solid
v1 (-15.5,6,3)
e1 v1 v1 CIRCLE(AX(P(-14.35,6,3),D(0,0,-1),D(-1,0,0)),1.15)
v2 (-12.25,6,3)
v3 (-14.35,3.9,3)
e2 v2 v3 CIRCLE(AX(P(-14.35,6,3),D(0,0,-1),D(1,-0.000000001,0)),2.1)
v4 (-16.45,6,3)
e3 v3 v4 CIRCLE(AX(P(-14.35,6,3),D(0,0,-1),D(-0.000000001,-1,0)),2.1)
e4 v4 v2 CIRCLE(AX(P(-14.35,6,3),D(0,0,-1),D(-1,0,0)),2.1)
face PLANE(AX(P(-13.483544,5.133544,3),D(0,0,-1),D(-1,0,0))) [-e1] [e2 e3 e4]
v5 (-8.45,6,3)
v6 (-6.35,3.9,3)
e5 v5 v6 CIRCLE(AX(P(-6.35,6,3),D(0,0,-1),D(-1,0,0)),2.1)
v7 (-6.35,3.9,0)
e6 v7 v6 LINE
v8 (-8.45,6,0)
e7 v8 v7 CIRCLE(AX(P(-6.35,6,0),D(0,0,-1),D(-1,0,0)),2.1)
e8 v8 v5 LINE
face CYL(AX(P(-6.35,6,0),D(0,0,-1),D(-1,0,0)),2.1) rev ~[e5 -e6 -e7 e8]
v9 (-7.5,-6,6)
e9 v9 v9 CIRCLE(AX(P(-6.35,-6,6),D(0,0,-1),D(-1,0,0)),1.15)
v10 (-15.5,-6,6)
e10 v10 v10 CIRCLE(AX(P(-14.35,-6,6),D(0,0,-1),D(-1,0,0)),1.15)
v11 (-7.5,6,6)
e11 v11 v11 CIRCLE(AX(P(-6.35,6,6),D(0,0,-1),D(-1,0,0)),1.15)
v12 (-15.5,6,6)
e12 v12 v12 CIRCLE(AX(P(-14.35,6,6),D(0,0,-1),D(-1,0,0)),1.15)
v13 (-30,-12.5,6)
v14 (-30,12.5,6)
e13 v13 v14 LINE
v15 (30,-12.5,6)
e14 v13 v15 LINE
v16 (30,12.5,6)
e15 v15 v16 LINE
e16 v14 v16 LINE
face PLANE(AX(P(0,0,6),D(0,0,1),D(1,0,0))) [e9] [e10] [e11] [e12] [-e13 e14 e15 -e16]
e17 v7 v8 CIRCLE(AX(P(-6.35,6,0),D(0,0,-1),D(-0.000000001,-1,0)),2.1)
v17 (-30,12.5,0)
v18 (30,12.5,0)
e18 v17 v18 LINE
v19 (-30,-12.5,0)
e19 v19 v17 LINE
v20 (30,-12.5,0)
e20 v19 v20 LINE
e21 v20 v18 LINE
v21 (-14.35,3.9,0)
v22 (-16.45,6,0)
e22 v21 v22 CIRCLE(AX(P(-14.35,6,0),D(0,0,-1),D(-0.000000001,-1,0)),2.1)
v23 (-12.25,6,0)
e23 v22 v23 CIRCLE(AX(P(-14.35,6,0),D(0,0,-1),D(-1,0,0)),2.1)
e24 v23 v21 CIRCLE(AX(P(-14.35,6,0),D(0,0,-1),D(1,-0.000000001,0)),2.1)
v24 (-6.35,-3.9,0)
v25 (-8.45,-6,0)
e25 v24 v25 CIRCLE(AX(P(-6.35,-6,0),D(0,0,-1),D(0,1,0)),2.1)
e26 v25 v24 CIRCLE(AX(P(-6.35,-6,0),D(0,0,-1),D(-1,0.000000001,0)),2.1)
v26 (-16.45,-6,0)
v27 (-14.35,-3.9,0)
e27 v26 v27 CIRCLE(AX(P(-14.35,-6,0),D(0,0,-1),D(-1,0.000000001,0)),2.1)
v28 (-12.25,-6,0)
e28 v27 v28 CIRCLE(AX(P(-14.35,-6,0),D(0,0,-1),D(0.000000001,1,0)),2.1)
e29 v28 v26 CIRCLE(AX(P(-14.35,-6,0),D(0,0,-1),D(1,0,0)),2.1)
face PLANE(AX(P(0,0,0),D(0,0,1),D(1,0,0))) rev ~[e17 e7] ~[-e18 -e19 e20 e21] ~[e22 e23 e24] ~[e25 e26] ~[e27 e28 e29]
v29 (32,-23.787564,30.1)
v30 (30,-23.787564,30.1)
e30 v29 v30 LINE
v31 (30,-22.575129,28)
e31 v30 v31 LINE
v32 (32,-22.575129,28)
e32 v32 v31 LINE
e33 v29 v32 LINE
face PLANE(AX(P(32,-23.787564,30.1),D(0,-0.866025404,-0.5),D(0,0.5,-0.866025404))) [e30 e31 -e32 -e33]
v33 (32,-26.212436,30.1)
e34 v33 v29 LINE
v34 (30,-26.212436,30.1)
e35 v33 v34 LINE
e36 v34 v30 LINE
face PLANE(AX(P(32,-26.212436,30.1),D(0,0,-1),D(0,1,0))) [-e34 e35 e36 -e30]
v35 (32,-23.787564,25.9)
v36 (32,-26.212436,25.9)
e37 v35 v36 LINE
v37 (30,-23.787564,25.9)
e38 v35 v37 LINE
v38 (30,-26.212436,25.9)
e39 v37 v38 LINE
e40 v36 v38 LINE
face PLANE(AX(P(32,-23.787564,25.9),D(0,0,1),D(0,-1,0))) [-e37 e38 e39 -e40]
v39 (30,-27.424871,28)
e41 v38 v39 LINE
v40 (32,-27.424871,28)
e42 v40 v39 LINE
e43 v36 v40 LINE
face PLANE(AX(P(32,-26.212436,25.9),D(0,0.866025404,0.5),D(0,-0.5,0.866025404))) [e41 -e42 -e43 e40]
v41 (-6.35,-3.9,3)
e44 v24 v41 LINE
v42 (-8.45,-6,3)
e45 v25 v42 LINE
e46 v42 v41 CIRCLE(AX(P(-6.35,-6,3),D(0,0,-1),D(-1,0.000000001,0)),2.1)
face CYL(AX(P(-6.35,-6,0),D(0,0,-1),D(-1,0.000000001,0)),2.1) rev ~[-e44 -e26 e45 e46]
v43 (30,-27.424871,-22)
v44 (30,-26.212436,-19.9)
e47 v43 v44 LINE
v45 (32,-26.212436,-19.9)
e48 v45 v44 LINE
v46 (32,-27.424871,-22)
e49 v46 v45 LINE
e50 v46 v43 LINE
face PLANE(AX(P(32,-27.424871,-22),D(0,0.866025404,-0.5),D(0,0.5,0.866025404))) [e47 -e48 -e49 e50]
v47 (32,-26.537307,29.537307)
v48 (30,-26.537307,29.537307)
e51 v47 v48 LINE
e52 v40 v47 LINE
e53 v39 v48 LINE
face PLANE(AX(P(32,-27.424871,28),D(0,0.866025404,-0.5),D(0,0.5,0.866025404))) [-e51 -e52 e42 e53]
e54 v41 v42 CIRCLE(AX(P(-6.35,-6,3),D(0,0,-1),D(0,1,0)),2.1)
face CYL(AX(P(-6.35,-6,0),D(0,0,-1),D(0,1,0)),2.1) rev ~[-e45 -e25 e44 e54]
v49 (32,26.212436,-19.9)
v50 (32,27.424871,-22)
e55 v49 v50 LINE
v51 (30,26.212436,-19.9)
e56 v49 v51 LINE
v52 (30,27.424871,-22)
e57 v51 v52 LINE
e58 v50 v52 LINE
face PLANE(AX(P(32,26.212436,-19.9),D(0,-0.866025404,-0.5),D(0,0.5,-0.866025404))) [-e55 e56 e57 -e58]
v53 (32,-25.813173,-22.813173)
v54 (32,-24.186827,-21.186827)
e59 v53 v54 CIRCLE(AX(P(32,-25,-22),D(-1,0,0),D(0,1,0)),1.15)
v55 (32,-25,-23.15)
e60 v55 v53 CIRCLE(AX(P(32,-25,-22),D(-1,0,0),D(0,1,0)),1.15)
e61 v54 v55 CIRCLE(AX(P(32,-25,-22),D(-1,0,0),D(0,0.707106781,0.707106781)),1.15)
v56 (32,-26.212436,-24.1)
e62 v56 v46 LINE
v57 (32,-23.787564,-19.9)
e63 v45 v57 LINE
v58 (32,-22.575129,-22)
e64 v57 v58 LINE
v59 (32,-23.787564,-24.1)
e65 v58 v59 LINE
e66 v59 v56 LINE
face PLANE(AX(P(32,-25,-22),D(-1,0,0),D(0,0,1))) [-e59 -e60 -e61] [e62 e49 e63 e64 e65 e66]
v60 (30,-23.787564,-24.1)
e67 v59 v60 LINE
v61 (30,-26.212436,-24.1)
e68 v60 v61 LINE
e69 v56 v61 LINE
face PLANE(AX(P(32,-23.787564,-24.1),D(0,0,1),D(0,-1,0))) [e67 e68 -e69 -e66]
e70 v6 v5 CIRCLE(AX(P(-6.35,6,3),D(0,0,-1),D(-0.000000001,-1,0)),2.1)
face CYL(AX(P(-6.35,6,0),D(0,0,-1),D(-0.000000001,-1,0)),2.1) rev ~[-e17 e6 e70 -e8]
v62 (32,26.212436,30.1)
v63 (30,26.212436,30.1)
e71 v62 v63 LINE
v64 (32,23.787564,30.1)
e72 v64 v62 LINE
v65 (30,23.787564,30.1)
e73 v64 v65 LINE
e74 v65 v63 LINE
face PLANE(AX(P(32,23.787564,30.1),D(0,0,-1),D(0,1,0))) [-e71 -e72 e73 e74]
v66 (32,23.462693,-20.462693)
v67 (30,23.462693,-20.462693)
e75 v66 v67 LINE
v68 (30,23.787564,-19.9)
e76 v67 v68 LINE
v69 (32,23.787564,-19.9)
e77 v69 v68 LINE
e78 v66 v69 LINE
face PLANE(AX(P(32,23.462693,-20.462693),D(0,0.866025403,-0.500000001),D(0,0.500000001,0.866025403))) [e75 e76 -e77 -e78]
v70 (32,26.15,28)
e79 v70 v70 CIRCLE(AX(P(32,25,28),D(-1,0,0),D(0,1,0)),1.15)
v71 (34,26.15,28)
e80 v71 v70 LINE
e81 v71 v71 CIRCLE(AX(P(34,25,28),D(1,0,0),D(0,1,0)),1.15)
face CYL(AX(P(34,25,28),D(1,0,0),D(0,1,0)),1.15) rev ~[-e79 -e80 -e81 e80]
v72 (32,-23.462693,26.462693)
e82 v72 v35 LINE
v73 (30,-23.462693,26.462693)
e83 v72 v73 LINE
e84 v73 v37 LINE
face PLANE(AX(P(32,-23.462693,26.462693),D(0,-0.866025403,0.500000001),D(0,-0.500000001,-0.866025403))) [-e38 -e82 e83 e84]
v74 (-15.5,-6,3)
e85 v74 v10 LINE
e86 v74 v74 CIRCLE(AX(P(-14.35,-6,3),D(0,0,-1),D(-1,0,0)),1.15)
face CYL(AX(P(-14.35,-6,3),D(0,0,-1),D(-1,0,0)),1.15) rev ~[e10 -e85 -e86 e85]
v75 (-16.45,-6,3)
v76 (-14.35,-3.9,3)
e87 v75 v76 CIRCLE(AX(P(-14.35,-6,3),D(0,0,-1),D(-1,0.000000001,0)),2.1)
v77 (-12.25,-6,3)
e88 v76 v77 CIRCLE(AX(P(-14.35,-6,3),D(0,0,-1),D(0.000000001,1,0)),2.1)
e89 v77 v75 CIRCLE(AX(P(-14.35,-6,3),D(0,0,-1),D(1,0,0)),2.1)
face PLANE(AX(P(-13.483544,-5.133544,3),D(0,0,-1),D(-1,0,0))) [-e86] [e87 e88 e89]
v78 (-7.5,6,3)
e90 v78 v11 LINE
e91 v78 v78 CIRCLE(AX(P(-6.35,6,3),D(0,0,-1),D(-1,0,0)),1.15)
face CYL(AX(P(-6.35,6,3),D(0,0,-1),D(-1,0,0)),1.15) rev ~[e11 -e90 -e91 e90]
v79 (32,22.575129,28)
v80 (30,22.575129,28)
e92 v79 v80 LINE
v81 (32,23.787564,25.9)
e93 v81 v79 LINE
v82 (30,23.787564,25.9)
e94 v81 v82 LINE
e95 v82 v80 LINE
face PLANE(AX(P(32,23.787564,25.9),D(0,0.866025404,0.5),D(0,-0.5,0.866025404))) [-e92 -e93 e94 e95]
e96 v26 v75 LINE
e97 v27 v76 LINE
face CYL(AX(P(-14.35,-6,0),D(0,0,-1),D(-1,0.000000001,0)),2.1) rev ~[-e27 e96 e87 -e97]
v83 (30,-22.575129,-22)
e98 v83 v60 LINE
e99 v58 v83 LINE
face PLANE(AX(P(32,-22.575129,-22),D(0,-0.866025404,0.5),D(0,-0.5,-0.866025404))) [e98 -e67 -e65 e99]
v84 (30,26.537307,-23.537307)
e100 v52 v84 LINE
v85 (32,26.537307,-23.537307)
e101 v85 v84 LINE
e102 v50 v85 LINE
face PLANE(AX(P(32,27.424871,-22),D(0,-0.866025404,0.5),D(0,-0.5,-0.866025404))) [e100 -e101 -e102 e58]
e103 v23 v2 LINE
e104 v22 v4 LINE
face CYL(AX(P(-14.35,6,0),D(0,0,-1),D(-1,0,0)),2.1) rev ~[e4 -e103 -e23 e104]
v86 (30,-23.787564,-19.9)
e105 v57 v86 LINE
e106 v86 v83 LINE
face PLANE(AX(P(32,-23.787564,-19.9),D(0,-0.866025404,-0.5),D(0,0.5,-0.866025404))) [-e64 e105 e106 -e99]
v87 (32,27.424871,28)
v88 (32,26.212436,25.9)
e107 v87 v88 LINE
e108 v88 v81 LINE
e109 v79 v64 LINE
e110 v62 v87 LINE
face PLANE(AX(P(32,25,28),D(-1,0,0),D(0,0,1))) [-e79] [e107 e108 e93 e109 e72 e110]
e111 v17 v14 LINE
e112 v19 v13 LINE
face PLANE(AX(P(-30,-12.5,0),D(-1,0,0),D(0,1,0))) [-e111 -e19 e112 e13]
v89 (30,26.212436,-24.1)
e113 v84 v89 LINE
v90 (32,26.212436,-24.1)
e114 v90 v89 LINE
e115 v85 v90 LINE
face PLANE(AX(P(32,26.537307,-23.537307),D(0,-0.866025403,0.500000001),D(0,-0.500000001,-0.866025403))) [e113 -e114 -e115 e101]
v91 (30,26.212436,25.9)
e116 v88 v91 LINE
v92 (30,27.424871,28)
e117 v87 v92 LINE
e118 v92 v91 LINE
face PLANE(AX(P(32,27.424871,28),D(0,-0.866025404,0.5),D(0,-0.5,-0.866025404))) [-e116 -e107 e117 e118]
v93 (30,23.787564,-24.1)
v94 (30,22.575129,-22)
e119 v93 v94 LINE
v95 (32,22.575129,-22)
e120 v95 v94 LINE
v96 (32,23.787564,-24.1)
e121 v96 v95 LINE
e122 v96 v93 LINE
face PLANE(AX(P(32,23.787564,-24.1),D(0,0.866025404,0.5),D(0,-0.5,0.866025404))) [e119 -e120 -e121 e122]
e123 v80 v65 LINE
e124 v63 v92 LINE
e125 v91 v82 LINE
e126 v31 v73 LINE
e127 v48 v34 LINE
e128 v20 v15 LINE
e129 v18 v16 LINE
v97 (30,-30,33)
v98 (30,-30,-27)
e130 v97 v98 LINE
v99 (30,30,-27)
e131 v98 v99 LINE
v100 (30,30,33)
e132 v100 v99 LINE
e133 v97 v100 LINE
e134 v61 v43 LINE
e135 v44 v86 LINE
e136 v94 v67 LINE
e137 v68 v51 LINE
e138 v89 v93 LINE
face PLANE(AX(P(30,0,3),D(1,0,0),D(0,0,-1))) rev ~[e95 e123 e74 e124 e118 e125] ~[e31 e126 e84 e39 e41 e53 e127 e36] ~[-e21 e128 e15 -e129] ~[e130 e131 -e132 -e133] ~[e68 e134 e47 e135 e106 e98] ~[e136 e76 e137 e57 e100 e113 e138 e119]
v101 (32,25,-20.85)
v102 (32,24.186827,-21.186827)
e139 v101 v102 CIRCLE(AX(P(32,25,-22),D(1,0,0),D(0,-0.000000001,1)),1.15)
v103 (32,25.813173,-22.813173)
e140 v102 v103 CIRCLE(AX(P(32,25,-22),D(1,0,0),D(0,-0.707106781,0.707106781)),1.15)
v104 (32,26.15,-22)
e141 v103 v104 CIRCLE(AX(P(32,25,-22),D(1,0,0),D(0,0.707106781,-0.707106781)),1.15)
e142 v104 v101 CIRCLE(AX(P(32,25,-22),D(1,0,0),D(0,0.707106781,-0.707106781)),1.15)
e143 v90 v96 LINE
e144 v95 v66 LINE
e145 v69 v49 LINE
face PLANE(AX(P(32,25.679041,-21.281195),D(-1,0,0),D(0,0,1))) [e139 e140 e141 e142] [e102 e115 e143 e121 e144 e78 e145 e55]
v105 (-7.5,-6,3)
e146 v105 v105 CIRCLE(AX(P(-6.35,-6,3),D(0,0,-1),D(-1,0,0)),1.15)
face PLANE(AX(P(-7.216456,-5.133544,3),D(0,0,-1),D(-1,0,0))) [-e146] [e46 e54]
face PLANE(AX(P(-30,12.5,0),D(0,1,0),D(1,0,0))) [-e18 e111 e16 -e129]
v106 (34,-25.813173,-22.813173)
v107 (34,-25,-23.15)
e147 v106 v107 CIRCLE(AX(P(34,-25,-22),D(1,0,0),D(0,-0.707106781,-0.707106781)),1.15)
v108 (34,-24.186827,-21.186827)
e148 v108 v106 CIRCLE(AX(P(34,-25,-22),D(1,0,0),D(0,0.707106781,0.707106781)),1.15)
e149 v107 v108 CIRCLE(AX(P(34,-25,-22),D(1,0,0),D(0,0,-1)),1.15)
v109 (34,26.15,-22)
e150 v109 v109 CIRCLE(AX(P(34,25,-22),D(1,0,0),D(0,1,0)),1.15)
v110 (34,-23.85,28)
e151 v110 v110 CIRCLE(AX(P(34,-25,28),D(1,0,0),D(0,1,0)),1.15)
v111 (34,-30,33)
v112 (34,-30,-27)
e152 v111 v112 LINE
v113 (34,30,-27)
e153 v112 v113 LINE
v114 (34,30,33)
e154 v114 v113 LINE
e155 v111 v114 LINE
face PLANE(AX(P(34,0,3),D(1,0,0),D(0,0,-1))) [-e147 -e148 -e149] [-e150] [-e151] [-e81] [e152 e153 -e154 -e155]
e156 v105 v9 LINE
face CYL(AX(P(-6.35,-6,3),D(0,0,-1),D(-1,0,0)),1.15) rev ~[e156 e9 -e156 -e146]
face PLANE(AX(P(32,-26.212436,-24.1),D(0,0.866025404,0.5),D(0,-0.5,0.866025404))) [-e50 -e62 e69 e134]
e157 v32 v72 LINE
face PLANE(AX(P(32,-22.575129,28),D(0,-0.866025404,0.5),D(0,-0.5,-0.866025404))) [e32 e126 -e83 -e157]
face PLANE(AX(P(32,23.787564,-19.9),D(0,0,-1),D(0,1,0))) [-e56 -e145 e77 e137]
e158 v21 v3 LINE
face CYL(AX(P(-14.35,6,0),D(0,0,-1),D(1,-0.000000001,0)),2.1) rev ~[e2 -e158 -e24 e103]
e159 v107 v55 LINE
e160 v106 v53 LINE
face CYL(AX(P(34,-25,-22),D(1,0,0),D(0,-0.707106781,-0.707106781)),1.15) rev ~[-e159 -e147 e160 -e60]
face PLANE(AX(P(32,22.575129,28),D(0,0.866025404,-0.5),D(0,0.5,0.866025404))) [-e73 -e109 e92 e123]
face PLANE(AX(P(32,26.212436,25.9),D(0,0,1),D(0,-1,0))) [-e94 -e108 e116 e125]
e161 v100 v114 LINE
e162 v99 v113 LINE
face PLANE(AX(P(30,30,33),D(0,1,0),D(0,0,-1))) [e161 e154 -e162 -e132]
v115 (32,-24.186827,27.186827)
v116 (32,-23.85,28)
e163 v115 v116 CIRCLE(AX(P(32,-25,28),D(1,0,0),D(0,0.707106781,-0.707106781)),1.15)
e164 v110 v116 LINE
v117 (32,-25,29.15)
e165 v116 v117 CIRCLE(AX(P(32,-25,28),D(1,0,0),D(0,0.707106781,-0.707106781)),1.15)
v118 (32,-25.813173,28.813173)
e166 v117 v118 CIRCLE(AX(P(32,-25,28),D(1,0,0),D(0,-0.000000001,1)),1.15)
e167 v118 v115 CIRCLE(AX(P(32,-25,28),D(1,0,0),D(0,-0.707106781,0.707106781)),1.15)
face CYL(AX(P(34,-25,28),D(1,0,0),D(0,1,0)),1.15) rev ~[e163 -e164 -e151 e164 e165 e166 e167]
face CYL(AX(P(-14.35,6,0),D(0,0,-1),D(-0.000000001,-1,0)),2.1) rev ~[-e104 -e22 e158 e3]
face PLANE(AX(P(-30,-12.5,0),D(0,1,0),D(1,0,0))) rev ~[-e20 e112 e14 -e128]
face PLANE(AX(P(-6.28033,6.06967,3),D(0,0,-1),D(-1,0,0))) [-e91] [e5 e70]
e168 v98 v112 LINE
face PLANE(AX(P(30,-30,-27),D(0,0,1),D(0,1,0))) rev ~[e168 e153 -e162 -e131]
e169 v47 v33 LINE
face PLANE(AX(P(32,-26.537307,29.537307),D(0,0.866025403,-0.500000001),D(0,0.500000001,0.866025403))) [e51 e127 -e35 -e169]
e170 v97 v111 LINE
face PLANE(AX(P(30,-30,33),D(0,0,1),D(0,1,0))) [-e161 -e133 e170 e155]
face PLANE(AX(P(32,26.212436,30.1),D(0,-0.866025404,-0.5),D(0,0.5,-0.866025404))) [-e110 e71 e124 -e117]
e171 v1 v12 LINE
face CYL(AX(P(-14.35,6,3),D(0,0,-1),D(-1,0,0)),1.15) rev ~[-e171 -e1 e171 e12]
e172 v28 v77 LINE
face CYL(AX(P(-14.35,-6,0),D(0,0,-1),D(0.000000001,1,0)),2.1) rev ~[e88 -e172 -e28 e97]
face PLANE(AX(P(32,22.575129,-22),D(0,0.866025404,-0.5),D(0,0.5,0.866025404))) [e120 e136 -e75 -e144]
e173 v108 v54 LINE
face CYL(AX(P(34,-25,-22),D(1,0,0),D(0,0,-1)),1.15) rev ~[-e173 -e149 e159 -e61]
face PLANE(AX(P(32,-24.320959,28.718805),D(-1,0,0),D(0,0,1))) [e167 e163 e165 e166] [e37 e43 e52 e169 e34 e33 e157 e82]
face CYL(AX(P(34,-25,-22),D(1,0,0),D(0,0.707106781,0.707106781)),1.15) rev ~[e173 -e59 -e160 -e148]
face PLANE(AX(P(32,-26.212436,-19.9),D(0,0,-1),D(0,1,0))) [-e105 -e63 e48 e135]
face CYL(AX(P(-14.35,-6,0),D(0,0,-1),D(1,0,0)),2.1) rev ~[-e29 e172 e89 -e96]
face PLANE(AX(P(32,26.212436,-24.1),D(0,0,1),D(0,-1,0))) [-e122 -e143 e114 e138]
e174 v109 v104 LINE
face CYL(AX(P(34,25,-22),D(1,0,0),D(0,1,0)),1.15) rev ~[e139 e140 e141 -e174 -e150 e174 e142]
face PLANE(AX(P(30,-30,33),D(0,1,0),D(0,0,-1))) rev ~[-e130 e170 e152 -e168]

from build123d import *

# Parameters (mm, degrees)
SKETCH1_W           = 60
SKETCH1_H           = 25
BOSS_EXTRUDE1_DEPTH = 6
CUT_EXTRUDE3_DEPTH  = 3
SKETCH5_R           = 1.15
CUT_EXTRUDE4_DEPTH  = 33.638167841
SKETCH7_W           = 60
SKETCH7_H           = 60
BOSS_EXTRUDE2_DEPTH = 4
SKETCH8_R           = 1.15
CUT_EXTRUDE5_DEPTH  = 10
CUT_EXTRUDE6_START  = -2
SKETCH9_R           = 1.15
CUT_EXTRUDE6_DEPTH  = 2


with BuildPart() as part:
    # Sketch1 → Boss-Extrude1 (new body)
    with BuildSketch(Plane.XY):
        Rectangle(SKETCH1_W, SKETCH1_H)
    extrude(amount=BOSS_EXTRUDE1_DEPTH)

    # Sketch4 → Cut-Extrude3 (cut)
    with BuildSketch(Plane(origin=(0, 0, 0), x_dir=(-1, 0, 0), z_dir=(0, 0, -1))):
        with BuildLine():
            ThreePointArc((8.45, 6), (4.86507576, 7.48492424), (6.35, 3.9))
            Line((6.35, 3.9), (6.35, 6))
            Line((6.35, 6), (8.45, 6))
        make_face()
        with BuildLine():
            Line((6.35, 6), (6.35, 3.9))
            ThreePointArc((6.35, 3.9), (7.83492424, 4.51507576), (8.45, 6))
            Line((8.45, 6), (6.35, 6))
        make_face()
        with BuildLine():
            ThreePointArc((12.25, 6), (12.86507576, 4.51507576), (14.35, 3.9))
            Line((14.35, 3.9), (14.35, 6))
            Line((14.35, 6), (12.25, 6))
        make_face()
        with BuildLine():
            Line((14.35, 6), (14.35, 3.9))
            ThreePointArc((14.35, 3.9), (15.83492424, 4.51507576), (16.45, 6))
            ThreePointArc((16.45, 6), (14.35, 8.1), (12.25, 6))
            Line((12.25, 6), (14.35, 6))
        make_face()
        with BuildLine():
            ThreePointArc((14.35, -3.9), (12.86507576, -4.51507576), (12.25, -6))
            Line((12.25, -6), (14.35, -6))
            Line((14.35, -6), (14.35, -3.9))
        make_face()
        with BuildLine():
            Line((14.35, -6), (12.25, -6))
            ThreePointArc((12.25, -6), (14.35, -8.1), (16.45, -6))
            ThreePointArc((16.45, -6), (15.83492424, -4.51507576), (14.35, -3.9))
            Line((14.35, -3.9), (14.35, -6))
        make_face()
        with BuildLine():
            Line((6.35, -3.9), (6.35, -6))
            Line((6.35, -6), (8.45, -6))
            ThreePointArc((8.45, -6), (7.83492424, -4.51507576), (6.35, -3.9))
        make_face()
        with BuildLine():
            Line((8.45, -6), (6.35, -6))
            Line((6.35, -6), (6.35, -3.9))
            ThreePointArc((6.35, -3.9), (4.86507576, -7.48492424), (8.45, -6))
        make_face()
    extrude(amount=-CUT_EXTRUDE3_DEPTH, mode=Mode.SUBTRACT)

    # Sketch5 → Cut-Extrude4 (cut, through all)
    with BuildSketch(Plane(origin=(0, 0, 3), x_dir=(-1, 0, 0), z_dir=(0, 0, -1))):
        with Locations((6.35, 6)):
            Circle(SKETCH5_R)
        with Locations((14.35, 6)):
            Circle(SKETCH5_R)
        with Locations((14.35, -6)):
            Circle(SKETCH5_R)
        with Locations((6.35, -6)):
            Circle(SKETCH5_R)
    extrude(amount=-CUT_EXTRUDE4_DEPTH, mode=Mode.SUBTRACT)

    # Sketch7 → Boss-Extrude2 (add)
    with BuildSketch(Plane(origin=(30, 0, 0), x_dir=(0, 0, -1), z_dir=(1, 0, 0))):
        with Locations((-3, 0)):
            Rectangle(SKETCH7_W, SKETCH7_H)
    extrude(amount=BOSS_EXTRUDE2_DEPTH)

    # Sketch8 → Cut-Extrude5 (cut)
    with BuildSketch(Plane(origin=(34, 0, 0), x_dir=(0, 0, -1), z_dir=(1, 0, 0))):
        with Locations(Location((-28, -25, 0), (0, 0, 90))):
            Circle(SKETCH8_R)
        with Locations(Location((-28, 25, 0), (0, 0, 90))):
            Circle(SKETCH8_R)
        with BuildLine():
            ThreePointArc((23.15, -25), (22.440085947, -23.937538538), (21.186827202, -24.186827202))
            Line((21.186827202, -24.186827202), (22.813172798, -25.813172798))
            ThreePointArc((22.813172798, -25.813172798), (23.062461462, -25.440085947), (23.15, -25))
        make_face()
        with BuildLine():
            Line((22.813172798, -25.813172798), (21.186827202, -24.186827202))
            ThreePointArc((21.186827202, -24.186827202), (21.186827202, -25.813172798), (22.813172798, -25.813172798))
        make_face()
        with Locations(Location((22, 25, 0), (0, 0, 90))):
            Circle(SKETCH8_R)
    extrude(amount=-CUT_EXTRUDE5_DEPTH, mode=Mode.SUBTRACT)

    # Sketch9 → Cut-Extrude6 (cut)
    # profile 1 of 6: a face of its own
    with BuildSketch(Plane.ZY.offset(-30).offset(CUT_EXTRUDE6_START)):
        Polygon((25.9, 26.212435565), (25.9, 23.787564435), (28, 22.575128869), (30.1, 23.787564435), (30.1, 26.212435565), (28, 27.424871131), align=None)
        with Locations(Location((28, 25, 0), (0, 0, 90))):
            Circle(SKETCH9_R, mode=Mode.SUBTRACT)
    # profile 2 of 6: a face of its own
    with BuildSketch(Plane.ZY.offset(-30).offset(CUT_EXTRUDE6_START)):
        with BuildLine():
            Line((28.813172798, -25.813172798), (29.537306696, -26.537306696))
            Line((29.537306696, -26.537306696), (30.1, -26.212435565))
            Line((30.1, -26.212435565), (30.1, -23.787564435))
            Line((30.1, -23.787564435), (28, -22.575128869))
            Line((28, -22.575128869), (26.462693304, -23.462693304))
            Line((26.462693304, -23.462693304), (27.186827202, -24.186827202))
            ThreePointArc((27.186827202, -24.186827202), (28.440085947, -23.937538538), (29.15, -25))
            ThreePointArc((29.15, -25), (29.062461462, -25.440085947), (28.813172798, -25.813172798))
        make_face()
    # profile 3 of 6: a face of its own
    with BuildSketch(Plane.ZY.offset(-30).offset(CUT_EXTRUDE6_START)):
        with BuildLine():
            Line((28, -27.424871131), (29.537306696, -26.537306696))
            Line((29.537306696, -26.537306696), (28.813172798, -25.813172798))
            ThreePointArc((28.813172798, -25.813172798), (27.186827202, -25.813172798), (27.186827202, -24.186827202))
            Line((27.186827202, -24.186827202), (26.462693304, -23.462693304))
            Line((26.462693304, -23.462693304), (25.9, -23.787564435))
            Line((25.9, -23.787564435), (25.9, -26.212435565))
            Line((25.9, -26.212435565), (28, -27.424871131))
        make_face()
    # profile 4 of 6: a face of its own
    with BuildSketch(Plane.ZY.offset(-30).offset(CUT_EXTRUDE6_START)):
        Polygon((-22, -22.575128869), (-24.1, -23.787564435), (-24.1, -26.212435565), (-22, -27.424871131), (-19.9, -26.212435565), (-19.9, -23.787564435), align=None)
        with Locations(Location((-22, -25, 0), (0, 0, 90))):
            Circle(SKETCH9_R, mode=Mode.SUBTRACT)
    # profile 5 of 6: a face of its own
    with BuildSketch(Plane.ZY.offset(-30).offset(CUT_EXTRUDE6_START)):
        with BuildLine():
            Line((-21.186827202, 24.186827202), (-20.462693304, 23.462693304))
            Line((-20.462693304, 23.462693304), (-19.9, 23.787564435))
            Line((-19.9, 23.787564435), (-19.9, 26.212435565))
            Line((-19.9, 26.212435565), (-22, 27.424871131))
            Line((-22, 27.424871131), (-23.537306696, 26.537306696))
            Line((-23.537306696, 26.537306696), (-22.813172798, 25.813172798))
            ThreePointArc((-22.813172798, 25.813172798), (-21.559914053, 26.062461462), (-20.85, 25))
            ThreePointArc((-20.85, 25), (-20.937538538, 24.559914053), (-21.186827202, 24.186827202))
        make_face()
    # profile 6 of 6: a face of its own
    with BuildSketch(Plane.ZY.offset(-30).offset(CUT_EXTRUDE6_START)):
        with BuildLine():
            Line((-22, 22.575128869), (-20.462693304, 23.462693304))
            Line((-20.462693304, 23.462693304), (-21.186827202, 24.186827202))
            ThreePointArc((-21.186827202, 24.186827202), (-22.813172798, 24.186827202), (-22.813172798, 25.813172798))
            Line((-22.813172798, 25.813172798), (-23.537306696, 26.537306696))
            Line((-23.537306696, 26.537306696), (-24.1, 26.212435565))
            Line((-24.1, 26.212435565), (-24.1, 23.787564435))
            Line((-24.1, 23.787564435), (-22, 22.575128869))
        make_face()
    extrude(amount=CUT_EXTRUDE6_DEPTH, mode=Mode.SUBTRACT)


solid = part.part
